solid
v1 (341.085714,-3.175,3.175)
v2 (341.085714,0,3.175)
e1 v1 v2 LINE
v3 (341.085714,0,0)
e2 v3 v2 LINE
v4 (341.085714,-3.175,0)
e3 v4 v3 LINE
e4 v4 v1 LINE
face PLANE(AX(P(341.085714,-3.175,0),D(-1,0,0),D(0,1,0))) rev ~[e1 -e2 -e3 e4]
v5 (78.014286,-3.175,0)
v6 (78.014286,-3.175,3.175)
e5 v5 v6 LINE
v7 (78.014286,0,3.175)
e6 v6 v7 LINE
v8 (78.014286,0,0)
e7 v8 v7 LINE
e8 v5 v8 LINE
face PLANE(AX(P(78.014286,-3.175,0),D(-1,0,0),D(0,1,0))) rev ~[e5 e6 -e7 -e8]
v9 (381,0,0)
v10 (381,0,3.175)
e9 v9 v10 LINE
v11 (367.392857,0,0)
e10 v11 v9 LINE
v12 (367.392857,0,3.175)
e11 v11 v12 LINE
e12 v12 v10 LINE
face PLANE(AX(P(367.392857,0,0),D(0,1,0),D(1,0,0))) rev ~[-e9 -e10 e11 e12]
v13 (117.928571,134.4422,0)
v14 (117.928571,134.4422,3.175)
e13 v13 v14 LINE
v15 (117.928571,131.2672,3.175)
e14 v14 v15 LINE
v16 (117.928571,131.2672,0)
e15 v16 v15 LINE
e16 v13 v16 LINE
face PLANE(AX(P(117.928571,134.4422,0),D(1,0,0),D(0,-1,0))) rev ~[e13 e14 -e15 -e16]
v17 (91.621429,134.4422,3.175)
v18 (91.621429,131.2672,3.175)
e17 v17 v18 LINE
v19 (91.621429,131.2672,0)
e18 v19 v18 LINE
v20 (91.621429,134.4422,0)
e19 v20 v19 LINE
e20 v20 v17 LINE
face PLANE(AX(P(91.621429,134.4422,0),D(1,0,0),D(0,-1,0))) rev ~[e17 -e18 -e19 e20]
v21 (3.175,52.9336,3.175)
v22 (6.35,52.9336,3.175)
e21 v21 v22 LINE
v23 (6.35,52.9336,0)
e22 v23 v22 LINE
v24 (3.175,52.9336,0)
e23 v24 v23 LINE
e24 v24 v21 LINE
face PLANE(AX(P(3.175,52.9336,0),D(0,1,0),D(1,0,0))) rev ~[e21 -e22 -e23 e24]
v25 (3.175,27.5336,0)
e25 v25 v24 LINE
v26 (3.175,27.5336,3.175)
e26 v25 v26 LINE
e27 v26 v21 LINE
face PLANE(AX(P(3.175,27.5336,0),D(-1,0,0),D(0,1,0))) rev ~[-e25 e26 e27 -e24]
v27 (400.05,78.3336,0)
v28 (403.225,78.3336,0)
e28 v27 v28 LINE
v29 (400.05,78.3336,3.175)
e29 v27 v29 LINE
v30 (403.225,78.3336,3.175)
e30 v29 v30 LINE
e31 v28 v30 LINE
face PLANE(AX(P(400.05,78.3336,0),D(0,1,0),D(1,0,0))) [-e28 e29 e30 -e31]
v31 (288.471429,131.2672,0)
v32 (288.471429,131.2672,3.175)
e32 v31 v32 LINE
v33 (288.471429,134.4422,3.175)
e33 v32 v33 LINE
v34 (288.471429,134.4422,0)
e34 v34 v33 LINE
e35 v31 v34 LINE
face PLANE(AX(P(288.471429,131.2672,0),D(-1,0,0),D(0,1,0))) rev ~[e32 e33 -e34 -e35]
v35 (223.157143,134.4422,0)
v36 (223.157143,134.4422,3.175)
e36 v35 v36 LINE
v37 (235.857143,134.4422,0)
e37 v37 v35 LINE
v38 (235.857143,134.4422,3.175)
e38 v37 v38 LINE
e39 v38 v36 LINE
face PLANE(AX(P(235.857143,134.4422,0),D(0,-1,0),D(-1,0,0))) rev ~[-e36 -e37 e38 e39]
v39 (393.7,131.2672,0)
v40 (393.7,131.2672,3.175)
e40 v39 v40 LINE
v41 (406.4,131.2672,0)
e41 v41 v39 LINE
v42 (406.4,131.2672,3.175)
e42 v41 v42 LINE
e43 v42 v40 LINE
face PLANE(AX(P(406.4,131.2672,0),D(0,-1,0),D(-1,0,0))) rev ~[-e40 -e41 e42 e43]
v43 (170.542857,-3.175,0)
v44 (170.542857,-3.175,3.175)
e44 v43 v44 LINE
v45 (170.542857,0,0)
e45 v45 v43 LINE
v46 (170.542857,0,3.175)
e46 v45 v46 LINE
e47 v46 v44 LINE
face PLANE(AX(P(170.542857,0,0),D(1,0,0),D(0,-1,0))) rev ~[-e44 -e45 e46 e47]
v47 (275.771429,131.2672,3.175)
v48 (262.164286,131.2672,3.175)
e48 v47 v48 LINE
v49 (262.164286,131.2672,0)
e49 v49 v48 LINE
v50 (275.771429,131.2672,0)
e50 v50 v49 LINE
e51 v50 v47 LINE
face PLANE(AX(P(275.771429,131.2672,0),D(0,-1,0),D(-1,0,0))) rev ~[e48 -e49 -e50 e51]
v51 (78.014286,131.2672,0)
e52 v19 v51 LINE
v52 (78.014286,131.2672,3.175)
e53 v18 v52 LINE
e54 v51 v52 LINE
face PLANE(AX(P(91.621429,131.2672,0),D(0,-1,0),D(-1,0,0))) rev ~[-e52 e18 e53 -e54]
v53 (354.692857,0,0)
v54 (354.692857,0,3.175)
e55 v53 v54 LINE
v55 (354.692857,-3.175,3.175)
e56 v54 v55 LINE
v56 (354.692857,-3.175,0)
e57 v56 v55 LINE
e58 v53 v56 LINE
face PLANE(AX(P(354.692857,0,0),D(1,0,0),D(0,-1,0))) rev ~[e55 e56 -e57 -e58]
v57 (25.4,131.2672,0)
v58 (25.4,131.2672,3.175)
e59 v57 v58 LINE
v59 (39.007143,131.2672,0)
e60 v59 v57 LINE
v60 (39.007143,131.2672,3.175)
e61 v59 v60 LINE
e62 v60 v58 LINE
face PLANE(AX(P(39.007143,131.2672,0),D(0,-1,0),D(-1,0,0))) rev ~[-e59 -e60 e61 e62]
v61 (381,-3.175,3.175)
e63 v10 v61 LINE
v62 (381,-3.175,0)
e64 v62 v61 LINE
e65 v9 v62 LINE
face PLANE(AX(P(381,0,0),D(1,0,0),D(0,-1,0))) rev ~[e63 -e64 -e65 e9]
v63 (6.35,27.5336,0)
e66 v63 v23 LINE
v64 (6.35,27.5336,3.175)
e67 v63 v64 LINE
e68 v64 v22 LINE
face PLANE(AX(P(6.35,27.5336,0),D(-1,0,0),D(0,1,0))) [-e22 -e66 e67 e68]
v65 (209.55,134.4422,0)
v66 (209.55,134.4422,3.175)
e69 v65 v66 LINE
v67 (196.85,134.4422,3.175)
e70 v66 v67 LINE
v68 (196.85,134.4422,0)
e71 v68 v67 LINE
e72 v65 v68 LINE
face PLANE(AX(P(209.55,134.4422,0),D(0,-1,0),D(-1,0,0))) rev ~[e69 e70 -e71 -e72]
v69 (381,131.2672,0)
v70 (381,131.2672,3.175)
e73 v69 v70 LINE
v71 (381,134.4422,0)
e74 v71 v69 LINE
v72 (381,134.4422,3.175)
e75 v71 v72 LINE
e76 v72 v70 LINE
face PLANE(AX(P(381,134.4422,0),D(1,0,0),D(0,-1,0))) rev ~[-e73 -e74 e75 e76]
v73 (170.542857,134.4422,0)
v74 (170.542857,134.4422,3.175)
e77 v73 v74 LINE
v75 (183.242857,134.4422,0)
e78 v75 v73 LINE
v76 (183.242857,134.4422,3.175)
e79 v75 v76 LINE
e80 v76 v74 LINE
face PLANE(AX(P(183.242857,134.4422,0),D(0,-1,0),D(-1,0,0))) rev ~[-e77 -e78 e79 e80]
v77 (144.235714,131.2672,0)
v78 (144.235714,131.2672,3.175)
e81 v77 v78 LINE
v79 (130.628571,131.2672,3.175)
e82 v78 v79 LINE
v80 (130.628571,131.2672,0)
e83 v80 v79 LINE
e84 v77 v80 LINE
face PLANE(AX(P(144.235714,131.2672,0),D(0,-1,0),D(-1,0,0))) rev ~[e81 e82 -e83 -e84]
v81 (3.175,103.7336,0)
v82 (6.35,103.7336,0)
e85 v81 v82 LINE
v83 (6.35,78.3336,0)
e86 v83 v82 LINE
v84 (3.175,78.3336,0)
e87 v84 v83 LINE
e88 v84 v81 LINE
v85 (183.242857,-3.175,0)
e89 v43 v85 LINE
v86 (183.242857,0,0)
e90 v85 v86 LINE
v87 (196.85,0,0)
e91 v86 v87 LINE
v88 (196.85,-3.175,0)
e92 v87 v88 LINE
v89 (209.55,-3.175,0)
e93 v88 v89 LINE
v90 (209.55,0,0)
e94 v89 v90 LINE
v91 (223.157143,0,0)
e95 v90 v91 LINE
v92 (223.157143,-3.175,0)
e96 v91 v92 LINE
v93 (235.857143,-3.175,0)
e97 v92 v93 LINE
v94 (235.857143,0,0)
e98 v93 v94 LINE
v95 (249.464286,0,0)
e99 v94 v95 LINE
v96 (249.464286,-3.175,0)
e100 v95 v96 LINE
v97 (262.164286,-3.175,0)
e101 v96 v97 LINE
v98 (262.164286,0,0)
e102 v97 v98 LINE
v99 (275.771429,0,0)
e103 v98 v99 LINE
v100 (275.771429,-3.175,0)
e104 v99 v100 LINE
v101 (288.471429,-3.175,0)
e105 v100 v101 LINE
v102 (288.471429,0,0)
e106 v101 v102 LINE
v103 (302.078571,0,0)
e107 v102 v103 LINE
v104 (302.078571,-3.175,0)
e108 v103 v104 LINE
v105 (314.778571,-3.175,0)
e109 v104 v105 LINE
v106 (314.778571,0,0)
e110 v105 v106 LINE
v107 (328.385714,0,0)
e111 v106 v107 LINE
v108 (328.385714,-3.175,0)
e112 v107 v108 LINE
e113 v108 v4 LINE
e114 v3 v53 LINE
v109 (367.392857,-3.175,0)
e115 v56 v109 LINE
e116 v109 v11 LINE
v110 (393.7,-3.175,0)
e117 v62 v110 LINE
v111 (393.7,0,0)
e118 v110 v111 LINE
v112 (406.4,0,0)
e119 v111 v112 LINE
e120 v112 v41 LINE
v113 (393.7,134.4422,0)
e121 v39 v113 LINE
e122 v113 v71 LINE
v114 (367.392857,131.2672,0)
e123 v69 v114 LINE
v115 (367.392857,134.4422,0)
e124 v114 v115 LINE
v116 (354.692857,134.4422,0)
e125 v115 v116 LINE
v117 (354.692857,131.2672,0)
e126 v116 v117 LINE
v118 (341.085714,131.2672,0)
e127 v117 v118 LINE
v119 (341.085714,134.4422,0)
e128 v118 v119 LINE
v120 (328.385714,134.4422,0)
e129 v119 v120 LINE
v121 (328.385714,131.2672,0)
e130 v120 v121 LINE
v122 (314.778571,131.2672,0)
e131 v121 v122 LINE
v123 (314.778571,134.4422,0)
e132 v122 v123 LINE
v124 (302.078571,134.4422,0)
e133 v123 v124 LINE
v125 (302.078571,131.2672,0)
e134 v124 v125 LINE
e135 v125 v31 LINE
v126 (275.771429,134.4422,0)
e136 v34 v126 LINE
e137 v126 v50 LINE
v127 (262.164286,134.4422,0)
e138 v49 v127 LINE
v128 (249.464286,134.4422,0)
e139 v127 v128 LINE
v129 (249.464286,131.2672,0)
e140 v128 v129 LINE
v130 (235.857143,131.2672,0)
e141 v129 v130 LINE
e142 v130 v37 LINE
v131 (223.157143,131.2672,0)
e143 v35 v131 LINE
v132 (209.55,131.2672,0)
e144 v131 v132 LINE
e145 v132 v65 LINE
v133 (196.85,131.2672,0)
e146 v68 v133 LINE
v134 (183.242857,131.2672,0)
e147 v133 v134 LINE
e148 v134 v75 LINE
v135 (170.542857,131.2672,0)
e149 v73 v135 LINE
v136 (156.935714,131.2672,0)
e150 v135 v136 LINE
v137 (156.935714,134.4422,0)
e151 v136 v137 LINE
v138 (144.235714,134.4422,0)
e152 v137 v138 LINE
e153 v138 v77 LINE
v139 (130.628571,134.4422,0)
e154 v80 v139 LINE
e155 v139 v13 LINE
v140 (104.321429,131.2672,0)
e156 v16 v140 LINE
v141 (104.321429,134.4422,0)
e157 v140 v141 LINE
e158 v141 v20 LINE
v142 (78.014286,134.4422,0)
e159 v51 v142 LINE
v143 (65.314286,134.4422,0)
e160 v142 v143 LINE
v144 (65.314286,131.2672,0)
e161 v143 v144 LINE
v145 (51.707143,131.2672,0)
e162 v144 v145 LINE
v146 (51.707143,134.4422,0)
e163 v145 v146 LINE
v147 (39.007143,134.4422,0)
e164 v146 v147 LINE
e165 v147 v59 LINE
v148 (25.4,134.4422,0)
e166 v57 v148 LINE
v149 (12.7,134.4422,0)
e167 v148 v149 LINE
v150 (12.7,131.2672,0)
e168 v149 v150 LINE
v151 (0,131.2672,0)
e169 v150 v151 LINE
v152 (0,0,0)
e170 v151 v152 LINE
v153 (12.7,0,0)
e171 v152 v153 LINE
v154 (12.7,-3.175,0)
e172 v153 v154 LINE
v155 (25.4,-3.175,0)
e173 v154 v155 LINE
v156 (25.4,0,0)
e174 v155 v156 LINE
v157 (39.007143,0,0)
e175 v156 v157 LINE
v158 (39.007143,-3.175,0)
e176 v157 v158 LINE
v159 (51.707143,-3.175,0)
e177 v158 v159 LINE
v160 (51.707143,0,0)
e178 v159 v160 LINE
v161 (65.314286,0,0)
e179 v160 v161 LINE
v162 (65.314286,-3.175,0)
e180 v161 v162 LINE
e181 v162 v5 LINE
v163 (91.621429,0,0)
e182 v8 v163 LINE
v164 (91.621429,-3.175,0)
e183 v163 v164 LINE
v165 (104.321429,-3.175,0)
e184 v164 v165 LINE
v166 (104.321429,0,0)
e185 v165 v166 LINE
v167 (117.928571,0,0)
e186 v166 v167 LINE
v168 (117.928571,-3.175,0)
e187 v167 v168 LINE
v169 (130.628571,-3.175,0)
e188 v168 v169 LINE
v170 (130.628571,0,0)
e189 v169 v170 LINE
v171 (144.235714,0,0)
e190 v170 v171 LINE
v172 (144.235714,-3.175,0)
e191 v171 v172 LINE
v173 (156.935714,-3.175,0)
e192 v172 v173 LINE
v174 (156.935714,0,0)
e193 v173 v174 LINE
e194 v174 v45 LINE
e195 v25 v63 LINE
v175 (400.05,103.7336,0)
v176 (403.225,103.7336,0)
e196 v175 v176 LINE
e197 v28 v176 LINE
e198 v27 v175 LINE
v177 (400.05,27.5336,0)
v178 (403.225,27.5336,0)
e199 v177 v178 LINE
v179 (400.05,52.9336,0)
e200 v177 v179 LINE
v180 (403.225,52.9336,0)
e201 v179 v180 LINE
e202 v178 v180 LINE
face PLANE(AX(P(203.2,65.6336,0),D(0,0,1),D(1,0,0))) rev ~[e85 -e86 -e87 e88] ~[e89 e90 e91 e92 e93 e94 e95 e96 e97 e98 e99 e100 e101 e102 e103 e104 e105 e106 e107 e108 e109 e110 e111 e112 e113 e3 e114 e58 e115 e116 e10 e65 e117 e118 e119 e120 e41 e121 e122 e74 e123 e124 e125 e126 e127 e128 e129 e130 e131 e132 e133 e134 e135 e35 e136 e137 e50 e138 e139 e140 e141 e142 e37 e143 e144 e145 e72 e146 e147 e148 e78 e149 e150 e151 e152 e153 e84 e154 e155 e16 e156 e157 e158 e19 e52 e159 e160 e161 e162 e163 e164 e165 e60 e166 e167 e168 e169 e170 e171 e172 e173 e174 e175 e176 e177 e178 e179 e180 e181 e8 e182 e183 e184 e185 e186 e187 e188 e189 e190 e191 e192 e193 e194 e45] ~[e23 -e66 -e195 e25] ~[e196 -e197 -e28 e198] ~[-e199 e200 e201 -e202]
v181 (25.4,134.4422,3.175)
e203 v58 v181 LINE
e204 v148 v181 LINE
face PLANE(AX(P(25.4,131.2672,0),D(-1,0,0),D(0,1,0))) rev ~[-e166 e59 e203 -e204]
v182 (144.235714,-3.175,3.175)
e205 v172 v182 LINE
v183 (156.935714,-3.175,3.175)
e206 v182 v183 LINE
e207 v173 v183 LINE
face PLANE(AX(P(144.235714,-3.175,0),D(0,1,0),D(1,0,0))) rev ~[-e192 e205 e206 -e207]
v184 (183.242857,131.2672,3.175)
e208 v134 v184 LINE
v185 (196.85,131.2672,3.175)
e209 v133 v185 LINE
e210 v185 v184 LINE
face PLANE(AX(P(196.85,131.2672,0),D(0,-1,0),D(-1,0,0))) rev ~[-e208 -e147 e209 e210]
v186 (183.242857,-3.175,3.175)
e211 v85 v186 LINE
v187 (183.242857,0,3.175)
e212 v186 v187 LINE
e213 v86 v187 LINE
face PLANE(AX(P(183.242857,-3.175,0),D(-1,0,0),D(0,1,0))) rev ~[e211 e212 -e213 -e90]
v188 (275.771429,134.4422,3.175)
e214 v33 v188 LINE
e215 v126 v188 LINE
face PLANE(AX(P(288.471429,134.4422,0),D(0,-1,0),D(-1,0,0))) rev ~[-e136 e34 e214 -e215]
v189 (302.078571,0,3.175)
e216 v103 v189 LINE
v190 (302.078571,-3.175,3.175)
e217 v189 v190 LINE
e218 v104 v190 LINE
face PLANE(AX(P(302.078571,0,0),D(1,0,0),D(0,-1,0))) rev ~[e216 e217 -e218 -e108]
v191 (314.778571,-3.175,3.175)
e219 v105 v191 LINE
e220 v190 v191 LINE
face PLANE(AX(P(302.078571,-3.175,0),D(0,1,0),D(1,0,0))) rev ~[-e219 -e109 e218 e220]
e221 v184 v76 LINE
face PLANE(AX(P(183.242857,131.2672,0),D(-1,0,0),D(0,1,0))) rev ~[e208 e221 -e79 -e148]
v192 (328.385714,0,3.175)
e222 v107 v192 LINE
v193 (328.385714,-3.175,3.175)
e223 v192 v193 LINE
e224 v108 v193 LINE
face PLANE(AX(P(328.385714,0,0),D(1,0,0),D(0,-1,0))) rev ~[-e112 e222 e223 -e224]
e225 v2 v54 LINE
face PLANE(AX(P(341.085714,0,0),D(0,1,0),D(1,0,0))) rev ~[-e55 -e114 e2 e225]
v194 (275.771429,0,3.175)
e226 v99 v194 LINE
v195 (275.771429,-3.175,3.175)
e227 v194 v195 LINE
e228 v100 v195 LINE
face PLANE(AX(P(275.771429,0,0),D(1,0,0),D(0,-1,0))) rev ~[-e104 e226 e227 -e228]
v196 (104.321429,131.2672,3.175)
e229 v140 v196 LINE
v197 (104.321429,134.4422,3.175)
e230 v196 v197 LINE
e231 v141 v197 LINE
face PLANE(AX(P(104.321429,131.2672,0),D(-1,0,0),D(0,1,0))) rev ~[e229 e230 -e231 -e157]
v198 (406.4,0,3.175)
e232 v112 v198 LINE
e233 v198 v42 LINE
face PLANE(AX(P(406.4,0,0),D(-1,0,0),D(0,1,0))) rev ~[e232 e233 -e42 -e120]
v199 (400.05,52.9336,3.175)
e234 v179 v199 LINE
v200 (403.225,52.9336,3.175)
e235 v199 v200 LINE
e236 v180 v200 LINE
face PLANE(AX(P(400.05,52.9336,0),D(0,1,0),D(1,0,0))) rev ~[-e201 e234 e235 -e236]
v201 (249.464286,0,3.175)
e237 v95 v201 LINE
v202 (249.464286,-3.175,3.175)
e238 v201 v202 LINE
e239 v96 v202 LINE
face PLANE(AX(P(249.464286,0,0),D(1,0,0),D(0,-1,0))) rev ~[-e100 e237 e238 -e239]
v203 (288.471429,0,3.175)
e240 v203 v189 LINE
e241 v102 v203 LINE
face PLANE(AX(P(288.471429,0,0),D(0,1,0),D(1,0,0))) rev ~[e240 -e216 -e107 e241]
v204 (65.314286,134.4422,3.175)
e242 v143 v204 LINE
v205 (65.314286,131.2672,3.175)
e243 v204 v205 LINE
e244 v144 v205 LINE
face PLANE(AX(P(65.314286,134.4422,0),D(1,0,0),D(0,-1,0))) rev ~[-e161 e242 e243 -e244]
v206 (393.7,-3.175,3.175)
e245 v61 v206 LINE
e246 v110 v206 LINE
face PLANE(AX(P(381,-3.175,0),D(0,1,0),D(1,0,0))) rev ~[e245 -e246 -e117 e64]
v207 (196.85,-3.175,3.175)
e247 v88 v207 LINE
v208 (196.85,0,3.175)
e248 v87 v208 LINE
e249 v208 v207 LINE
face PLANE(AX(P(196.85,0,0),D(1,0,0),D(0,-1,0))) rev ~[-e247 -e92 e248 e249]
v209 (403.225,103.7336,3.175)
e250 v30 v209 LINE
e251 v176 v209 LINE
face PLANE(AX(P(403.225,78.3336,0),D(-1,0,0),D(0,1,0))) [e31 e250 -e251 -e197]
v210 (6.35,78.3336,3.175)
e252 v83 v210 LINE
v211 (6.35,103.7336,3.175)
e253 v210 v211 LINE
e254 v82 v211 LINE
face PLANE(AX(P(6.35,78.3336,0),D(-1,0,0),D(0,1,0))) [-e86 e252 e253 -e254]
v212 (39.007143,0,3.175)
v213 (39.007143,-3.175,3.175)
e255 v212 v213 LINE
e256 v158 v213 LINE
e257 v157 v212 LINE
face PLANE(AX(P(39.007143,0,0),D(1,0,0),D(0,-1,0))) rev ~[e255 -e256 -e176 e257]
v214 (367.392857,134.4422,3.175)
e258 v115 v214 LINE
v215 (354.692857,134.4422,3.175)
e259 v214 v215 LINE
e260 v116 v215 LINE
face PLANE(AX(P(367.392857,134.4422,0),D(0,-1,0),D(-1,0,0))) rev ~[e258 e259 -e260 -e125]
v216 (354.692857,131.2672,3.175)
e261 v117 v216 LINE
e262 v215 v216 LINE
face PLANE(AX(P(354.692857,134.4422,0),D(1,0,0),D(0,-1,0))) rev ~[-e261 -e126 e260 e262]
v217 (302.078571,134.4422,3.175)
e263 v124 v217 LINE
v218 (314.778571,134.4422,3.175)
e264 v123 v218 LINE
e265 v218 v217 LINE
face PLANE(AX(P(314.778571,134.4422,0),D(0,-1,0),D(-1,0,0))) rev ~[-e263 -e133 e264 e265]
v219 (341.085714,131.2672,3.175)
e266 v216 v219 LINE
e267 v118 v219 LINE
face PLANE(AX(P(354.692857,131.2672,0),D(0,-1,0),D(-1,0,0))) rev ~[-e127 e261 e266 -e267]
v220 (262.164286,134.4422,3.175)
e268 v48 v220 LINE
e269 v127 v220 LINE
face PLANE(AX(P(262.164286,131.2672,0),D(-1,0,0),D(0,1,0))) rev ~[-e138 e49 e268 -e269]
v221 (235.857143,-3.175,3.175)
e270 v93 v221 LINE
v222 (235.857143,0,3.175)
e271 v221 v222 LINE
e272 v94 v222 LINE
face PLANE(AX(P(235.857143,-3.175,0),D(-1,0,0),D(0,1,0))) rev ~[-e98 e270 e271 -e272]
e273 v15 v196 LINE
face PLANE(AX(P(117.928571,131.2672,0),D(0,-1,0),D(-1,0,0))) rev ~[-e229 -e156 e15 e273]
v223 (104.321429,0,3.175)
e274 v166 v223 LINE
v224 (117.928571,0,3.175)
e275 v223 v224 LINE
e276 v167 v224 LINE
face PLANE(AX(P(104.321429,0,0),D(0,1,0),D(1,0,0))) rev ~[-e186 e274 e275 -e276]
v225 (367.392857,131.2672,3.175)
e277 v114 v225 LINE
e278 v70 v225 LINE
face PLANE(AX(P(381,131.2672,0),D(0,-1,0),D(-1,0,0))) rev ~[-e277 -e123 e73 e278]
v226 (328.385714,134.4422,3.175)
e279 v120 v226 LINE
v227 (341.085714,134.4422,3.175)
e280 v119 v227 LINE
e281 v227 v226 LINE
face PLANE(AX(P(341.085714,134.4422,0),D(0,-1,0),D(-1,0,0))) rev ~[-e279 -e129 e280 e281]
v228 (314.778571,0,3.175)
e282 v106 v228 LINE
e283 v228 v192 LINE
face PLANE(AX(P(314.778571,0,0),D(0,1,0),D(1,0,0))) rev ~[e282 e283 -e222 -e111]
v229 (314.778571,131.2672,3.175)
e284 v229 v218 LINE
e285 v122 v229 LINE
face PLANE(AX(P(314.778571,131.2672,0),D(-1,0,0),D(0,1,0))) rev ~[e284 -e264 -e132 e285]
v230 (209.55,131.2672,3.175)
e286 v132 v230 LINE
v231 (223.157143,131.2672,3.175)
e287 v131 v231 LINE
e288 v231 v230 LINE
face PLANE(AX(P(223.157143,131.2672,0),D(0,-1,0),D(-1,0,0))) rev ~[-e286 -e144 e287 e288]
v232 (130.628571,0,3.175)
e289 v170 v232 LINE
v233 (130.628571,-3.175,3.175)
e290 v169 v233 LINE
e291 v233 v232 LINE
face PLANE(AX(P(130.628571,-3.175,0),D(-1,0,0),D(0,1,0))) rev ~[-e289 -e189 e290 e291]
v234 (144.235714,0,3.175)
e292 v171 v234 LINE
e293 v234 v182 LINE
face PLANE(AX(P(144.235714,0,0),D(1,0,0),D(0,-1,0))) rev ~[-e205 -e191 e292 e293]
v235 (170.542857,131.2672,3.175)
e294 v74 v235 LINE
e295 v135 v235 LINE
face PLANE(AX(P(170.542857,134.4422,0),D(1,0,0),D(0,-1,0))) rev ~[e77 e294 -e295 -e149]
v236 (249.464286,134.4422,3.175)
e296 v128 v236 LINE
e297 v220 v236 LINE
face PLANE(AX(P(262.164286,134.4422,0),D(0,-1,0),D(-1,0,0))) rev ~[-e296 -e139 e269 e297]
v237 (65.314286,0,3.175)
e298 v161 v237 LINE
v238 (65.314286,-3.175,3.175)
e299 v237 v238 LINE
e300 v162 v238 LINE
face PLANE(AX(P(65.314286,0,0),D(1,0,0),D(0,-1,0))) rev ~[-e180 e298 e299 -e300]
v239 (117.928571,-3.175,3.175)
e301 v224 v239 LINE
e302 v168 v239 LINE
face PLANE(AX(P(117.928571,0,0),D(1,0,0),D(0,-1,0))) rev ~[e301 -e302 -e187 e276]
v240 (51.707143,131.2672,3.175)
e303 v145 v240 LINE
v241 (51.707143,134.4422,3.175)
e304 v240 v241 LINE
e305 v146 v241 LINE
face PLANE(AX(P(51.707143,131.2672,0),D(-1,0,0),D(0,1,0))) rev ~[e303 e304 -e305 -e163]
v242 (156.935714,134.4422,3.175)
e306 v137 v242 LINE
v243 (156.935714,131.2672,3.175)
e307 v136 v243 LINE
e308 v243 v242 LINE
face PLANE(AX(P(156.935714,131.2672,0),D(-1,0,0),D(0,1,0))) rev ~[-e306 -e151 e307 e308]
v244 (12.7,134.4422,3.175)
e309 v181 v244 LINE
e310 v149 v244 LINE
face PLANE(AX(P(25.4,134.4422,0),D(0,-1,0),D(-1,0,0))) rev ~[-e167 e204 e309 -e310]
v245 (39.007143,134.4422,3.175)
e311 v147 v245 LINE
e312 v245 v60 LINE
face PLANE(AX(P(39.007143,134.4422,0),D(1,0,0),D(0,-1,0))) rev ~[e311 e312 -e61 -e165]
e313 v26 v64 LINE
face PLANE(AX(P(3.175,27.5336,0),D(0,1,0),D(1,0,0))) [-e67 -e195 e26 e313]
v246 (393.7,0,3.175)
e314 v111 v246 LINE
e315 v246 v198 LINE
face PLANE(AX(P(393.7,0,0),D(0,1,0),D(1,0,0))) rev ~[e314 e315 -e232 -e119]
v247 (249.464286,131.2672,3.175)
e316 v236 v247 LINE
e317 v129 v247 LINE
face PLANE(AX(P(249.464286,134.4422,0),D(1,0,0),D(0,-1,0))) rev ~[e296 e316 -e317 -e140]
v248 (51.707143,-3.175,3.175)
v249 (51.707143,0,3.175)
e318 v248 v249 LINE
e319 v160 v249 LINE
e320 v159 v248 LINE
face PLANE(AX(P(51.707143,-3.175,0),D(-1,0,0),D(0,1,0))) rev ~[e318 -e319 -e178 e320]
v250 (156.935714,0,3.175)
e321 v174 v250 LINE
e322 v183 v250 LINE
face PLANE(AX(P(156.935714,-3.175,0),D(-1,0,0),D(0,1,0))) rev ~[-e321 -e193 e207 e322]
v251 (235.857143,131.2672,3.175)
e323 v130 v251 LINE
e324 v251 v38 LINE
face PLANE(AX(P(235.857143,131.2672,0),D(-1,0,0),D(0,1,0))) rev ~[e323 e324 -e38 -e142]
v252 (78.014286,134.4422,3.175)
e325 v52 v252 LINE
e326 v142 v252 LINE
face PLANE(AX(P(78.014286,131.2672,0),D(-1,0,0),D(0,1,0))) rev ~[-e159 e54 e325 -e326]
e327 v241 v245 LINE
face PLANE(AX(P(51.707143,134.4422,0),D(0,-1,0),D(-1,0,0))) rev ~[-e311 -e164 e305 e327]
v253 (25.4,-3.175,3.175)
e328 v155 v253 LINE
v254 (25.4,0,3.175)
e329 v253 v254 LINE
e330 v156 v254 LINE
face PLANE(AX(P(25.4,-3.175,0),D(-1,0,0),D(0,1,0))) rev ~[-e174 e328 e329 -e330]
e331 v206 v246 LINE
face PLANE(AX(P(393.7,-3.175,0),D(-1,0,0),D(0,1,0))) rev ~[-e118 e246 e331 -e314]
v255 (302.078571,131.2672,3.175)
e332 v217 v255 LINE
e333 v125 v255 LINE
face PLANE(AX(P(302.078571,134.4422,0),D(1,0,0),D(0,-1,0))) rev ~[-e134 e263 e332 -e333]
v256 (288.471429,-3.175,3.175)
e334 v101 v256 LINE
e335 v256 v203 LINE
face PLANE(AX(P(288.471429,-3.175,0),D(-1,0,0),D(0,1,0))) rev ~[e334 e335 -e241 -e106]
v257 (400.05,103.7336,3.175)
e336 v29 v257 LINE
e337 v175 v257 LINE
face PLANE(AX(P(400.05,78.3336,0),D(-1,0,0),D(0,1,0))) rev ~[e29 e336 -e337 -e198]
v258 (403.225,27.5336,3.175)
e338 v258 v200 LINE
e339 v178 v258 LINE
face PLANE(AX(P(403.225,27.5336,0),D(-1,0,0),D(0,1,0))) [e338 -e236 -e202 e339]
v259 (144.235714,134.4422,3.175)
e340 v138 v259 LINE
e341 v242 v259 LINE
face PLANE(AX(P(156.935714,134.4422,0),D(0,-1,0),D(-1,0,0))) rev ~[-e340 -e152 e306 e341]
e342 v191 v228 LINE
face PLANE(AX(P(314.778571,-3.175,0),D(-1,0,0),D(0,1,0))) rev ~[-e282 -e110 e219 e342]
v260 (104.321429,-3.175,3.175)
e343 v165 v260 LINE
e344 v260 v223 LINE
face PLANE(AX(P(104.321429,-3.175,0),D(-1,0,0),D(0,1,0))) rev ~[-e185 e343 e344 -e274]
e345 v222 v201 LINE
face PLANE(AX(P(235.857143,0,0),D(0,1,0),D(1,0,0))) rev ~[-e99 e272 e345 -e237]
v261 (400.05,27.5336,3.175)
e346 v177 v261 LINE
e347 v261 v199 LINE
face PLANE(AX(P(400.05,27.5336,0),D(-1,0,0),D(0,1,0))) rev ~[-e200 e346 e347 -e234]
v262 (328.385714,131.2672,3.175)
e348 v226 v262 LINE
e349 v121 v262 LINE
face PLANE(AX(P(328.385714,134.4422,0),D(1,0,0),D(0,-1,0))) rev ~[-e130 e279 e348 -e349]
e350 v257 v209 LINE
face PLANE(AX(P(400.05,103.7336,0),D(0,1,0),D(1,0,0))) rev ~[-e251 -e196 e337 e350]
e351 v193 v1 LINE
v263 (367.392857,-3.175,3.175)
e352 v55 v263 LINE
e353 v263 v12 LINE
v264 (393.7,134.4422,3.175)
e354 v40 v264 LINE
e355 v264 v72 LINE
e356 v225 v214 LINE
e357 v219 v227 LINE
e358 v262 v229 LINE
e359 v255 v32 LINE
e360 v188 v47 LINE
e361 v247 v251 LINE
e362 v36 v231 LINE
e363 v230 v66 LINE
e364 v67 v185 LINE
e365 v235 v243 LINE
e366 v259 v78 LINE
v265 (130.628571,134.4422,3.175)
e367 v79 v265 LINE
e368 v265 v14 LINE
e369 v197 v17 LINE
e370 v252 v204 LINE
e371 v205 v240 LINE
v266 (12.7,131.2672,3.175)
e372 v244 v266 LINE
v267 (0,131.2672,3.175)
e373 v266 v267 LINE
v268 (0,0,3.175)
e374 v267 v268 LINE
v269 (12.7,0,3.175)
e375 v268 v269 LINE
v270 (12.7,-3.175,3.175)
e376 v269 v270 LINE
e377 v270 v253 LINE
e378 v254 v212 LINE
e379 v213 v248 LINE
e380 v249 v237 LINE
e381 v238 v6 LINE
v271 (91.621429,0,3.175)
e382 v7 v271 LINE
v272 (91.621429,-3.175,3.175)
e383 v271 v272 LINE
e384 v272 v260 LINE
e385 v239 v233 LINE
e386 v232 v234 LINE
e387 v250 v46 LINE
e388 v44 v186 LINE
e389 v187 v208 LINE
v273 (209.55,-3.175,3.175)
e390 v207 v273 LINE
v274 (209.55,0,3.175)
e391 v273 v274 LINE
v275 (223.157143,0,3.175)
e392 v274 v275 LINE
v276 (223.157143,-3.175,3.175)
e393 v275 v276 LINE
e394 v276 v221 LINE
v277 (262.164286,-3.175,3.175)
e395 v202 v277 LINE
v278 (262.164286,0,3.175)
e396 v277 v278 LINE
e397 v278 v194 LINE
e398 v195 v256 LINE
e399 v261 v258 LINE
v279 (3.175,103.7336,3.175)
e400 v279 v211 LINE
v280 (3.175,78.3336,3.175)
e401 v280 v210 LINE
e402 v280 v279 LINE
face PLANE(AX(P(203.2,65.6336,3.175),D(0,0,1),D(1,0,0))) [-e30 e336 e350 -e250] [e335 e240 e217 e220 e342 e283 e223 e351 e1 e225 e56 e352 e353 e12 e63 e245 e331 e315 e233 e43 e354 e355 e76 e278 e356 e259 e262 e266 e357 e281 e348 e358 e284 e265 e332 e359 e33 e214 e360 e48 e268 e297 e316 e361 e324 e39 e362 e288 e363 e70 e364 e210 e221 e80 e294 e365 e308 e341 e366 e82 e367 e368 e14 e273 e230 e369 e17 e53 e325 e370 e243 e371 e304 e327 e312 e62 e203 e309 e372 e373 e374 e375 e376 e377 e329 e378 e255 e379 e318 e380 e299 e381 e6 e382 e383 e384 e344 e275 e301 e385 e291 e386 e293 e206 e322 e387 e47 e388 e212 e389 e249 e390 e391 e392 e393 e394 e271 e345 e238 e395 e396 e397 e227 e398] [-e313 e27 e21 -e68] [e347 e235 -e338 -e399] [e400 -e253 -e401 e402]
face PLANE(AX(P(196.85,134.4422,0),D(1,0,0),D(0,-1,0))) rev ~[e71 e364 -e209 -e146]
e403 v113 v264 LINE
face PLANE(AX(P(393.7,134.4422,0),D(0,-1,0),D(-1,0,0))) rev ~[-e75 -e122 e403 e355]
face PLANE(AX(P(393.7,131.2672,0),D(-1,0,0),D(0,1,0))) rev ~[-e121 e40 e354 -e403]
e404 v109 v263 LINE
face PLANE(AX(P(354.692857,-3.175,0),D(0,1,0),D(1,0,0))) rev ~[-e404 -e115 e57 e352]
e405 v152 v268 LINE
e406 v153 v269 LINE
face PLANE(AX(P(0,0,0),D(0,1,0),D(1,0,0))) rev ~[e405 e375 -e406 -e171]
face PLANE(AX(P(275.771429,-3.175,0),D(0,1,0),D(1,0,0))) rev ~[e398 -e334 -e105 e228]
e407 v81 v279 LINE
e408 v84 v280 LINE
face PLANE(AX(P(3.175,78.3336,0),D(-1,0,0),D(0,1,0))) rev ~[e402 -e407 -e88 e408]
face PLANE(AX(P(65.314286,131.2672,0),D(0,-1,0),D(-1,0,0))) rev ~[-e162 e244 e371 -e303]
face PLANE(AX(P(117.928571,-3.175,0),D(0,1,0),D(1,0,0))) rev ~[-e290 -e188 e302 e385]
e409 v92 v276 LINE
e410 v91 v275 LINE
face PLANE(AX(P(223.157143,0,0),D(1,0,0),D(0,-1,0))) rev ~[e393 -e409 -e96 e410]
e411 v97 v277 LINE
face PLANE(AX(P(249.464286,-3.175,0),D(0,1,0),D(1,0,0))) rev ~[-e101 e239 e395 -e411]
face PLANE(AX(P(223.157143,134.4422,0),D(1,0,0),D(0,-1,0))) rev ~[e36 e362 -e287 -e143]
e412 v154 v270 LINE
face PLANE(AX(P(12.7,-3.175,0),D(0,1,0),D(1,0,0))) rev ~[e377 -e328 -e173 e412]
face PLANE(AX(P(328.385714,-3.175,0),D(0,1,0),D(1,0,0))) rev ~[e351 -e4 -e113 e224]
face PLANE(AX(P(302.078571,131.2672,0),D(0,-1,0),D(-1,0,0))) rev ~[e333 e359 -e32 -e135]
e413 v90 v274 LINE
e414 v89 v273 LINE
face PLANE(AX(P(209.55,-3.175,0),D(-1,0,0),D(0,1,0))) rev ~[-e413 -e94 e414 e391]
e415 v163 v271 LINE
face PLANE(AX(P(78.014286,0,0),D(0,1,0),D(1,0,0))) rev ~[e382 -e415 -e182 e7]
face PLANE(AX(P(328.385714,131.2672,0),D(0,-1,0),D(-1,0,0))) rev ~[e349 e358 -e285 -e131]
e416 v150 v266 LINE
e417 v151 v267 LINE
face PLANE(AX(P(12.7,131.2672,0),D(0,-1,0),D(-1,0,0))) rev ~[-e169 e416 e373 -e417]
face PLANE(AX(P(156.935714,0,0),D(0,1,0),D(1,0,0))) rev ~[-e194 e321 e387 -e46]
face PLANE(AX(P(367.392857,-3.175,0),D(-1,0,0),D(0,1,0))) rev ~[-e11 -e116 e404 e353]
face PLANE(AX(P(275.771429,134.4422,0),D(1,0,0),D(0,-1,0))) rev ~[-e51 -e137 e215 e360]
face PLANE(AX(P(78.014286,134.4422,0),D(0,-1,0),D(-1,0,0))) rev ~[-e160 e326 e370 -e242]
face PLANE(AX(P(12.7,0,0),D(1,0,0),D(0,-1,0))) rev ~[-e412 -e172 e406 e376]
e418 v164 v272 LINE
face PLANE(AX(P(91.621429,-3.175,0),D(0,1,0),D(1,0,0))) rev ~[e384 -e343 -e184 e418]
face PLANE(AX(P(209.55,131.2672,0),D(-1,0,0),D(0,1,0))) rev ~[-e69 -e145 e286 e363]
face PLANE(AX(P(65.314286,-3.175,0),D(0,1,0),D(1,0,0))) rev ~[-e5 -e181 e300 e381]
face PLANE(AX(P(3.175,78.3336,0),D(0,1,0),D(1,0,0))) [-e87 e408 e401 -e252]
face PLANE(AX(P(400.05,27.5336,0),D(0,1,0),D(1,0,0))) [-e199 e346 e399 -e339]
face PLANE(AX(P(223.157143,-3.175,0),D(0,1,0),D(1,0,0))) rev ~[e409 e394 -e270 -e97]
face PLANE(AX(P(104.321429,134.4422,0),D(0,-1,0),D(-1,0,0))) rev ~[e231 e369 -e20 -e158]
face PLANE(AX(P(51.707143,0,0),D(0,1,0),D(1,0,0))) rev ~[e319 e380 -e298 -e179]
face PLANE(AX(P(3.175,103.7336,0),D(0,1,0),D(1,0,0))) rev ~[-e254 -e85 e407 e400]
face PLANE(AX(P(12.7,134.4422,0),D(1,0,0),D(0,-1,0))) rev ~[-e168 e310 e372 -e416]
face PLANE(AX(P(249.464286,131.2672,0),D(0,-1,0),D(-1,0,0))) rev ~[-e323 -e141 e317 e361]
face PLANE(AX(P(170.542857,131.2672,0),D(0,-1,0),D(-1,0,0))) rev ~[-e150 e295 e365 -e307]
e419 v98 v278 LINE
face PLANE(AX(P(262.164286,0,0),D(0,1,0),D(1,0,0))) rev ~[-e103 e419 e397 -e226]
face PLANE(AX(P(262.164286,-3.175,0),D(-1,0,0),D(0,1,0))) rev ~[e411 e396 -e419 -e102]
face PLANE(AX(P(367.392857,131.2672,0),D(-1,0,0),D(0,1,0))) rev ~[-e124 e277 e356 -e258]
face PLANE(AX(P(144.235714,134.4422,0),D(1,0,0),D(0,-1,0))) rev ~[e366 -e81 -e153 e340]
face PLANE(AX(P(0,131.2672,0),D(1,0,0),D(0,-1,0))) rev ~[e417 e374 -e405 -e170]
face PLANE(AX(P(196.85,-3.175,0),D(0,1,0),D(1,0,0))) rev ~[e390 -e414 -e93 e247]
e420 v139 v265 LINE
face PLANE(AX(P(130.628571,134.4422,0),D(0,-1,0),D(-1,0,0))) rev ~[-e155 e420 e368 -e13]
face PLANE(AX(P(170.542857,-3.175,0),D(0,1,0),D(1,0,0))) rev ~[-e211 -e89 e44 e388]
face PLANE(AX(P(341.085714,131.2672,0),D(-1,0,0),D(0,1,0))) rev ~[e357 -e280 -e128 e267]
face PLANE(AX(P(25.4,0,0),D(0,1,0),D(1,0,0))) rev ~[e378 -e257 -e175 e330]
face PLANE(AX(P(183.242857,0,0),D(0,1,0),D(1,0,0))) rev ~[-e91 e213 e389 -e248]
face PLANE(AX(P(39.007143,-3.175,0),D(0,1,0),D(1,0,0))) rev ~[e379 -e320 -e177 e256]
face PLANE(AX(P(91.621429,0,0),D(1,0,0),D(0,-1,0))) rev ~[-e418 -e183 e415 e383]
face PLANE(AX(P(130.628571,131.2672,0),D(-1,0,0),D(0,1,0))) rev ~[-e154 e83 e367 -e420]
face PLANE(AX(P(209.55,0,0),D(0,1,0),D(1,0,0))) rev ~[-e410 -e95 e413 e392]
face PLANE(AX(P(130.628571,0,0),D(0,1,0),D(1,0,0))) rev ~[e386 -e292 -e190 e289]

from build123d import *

# Parameters (mm, degrees)
SKETCH1_W           = 3.175
SKETCH1_H           = 25.4
BOSS_EXTRUDE1_DEPTH = 3.175


with BuildPart() as part:
    # Sketch1 → Boss-Extrude1 (new body)
    with BuildSketch(Plane.XY):
        Polygon((406.4, 0), (406.4, 131.2672), (393.7, 131.2672), (393.7, 134.4422), (381, 134.4422), (381, 131.2672), (367.392857143, 131.2672), (367.392857143, 134.4422), (354.692857143, 134.4422), (354.692857143, 131.2672), (341.085714286, 131.2672), (341.085714286, 134.4422), (328.385714286, 134.4422), (328.385714286, 131.2672), (314.778571429, 131.2672), (314.778571429, 134.4422), (302.078571429, 134.4422), (302.078571429, 131.2672), (288.471428571, 131.2672), (288.471428571, 134.4422), (275.771428571, 134.4422), (275.771428571, 131.2672), (262.164285714, 131.2672), (262.164285714, 134.4422), (249.464285714, 134.4422), (249.464285714, 131.2672), (235.857142857, 131.2672), (235.857142857, 134.4422), (223.157142857, 134.4422), (223.157142857, 131.2672), (209.55, 131.2672), (209.55, 134.4422), (196.85, 134.4422), (196.85, 131.2672), (183.242857143, 131.2672), (183.242857143, 134.4422), (170.542857143, 134.4422), (170.542857143, 131.2672), (156.935714286, 131.2672), (156.935714286, 134.4422), (144.235714286, 134.4422), (144.235714286, 131.2672), (130.628571429, 131.2672), (130.628571429, 134.4422), (117.928571429, 134.4422), (117.928571429, 131.2672), (104.321428571, 131.2672), (104.321428571, 134.4422), (91.621428571, 134.4422), (91.621428571, 131.2672), (78.014285714, 131.2672), (78.014285714, 134.4422), (65.314285714, 134.4422), (65.314285714, 131.2672), (51.707142857, 131.2672), (51.707142857, 134.4422), (39.007142857, 134.4422), (39.007142857, 131.2672), (25.4, 131.2672), (25.4, 134.4422), (12.7, 134.4422), (12.7, 131.2672), (0, 131.2672), (0, 0), (12.7, 0), (12.7, -3.175), (25.4, -3.175), (25.4, 0), (39.007142857, 0), (39.007142857, -3.175), (51.707142857, -3.175), (51.707142857, 0), (65.314285714, 0), (65.314285714, -3.175), (78.014285714, -3.175), (78.014285714, 0), (91.621428571, 0), (91.621428571, -3.175), (104.321428571, -3.175), (104.321428571, 0), (117.928571429, 0), (117.928571429, -3.175), (130.628571429, -3.175), (130.628571429, 0), (144.235714286, 0), (144.235714286, -3.175), (156.935714286, -3.175), (156.935714286, 0), (170.542857143, 0), (170.542857143, -3.175), (183.242857143, -3.175), (183.242857143, 0), (196.85, 0), (196.85, -3.175), (209.55, -3.175), (209.55, 0), (223.157142857, 0), (223.157142857, -3.175), (235.857142857, -3.175), (235.857142857, 0), (249.464285714, 0), (249.464285714, -3.175), (262.164285714, -3.175), (262.164285714, 0), (275.771428571, 0), (275.771428571, -3.175), (288.471428571, -3.175), (288.471428571, 0), (302.078571429, 0), (302.078571429, -3.175), (314.778571429, -3.175), (314.778571429, 0), (328.385714286, 0), (328.385714286, -3.175), (341.085714286, -3.175), (341.085714286, 0), (354.692857143, 0), (354.692857143, -3.175), (367.392857143, -3.175), (367.392857143, 0), (381, 0), (381, -3.175), (393.7, -3.175), (393.7, 0), align=None)
        with Locations((4.7625, 91.0336)):
            Rectangle(SKETCH1_W, SKETCH1_H, mode=Mode.SUBTRACT)
        with Locations((4.7625, 40.2336)):
            Rectangle(SKETCH1_W, SKETCH1_H, mode=Mode.SUBTRACT)
        with Locations((401.6375, 91.0336)):
            Rectangle(SKETCH1_W, SKETCH1_H, mode=Mode.SUBTRACT)
        with Locations((401.6375, 40.2336)):
            Rectangle(SKETCH1_W, SKETCH1_H, mode=Mode.SUBTRACT)
    extrude(amount=BOSS_EXTRUDE1_DEPTH)


solid = part.part
